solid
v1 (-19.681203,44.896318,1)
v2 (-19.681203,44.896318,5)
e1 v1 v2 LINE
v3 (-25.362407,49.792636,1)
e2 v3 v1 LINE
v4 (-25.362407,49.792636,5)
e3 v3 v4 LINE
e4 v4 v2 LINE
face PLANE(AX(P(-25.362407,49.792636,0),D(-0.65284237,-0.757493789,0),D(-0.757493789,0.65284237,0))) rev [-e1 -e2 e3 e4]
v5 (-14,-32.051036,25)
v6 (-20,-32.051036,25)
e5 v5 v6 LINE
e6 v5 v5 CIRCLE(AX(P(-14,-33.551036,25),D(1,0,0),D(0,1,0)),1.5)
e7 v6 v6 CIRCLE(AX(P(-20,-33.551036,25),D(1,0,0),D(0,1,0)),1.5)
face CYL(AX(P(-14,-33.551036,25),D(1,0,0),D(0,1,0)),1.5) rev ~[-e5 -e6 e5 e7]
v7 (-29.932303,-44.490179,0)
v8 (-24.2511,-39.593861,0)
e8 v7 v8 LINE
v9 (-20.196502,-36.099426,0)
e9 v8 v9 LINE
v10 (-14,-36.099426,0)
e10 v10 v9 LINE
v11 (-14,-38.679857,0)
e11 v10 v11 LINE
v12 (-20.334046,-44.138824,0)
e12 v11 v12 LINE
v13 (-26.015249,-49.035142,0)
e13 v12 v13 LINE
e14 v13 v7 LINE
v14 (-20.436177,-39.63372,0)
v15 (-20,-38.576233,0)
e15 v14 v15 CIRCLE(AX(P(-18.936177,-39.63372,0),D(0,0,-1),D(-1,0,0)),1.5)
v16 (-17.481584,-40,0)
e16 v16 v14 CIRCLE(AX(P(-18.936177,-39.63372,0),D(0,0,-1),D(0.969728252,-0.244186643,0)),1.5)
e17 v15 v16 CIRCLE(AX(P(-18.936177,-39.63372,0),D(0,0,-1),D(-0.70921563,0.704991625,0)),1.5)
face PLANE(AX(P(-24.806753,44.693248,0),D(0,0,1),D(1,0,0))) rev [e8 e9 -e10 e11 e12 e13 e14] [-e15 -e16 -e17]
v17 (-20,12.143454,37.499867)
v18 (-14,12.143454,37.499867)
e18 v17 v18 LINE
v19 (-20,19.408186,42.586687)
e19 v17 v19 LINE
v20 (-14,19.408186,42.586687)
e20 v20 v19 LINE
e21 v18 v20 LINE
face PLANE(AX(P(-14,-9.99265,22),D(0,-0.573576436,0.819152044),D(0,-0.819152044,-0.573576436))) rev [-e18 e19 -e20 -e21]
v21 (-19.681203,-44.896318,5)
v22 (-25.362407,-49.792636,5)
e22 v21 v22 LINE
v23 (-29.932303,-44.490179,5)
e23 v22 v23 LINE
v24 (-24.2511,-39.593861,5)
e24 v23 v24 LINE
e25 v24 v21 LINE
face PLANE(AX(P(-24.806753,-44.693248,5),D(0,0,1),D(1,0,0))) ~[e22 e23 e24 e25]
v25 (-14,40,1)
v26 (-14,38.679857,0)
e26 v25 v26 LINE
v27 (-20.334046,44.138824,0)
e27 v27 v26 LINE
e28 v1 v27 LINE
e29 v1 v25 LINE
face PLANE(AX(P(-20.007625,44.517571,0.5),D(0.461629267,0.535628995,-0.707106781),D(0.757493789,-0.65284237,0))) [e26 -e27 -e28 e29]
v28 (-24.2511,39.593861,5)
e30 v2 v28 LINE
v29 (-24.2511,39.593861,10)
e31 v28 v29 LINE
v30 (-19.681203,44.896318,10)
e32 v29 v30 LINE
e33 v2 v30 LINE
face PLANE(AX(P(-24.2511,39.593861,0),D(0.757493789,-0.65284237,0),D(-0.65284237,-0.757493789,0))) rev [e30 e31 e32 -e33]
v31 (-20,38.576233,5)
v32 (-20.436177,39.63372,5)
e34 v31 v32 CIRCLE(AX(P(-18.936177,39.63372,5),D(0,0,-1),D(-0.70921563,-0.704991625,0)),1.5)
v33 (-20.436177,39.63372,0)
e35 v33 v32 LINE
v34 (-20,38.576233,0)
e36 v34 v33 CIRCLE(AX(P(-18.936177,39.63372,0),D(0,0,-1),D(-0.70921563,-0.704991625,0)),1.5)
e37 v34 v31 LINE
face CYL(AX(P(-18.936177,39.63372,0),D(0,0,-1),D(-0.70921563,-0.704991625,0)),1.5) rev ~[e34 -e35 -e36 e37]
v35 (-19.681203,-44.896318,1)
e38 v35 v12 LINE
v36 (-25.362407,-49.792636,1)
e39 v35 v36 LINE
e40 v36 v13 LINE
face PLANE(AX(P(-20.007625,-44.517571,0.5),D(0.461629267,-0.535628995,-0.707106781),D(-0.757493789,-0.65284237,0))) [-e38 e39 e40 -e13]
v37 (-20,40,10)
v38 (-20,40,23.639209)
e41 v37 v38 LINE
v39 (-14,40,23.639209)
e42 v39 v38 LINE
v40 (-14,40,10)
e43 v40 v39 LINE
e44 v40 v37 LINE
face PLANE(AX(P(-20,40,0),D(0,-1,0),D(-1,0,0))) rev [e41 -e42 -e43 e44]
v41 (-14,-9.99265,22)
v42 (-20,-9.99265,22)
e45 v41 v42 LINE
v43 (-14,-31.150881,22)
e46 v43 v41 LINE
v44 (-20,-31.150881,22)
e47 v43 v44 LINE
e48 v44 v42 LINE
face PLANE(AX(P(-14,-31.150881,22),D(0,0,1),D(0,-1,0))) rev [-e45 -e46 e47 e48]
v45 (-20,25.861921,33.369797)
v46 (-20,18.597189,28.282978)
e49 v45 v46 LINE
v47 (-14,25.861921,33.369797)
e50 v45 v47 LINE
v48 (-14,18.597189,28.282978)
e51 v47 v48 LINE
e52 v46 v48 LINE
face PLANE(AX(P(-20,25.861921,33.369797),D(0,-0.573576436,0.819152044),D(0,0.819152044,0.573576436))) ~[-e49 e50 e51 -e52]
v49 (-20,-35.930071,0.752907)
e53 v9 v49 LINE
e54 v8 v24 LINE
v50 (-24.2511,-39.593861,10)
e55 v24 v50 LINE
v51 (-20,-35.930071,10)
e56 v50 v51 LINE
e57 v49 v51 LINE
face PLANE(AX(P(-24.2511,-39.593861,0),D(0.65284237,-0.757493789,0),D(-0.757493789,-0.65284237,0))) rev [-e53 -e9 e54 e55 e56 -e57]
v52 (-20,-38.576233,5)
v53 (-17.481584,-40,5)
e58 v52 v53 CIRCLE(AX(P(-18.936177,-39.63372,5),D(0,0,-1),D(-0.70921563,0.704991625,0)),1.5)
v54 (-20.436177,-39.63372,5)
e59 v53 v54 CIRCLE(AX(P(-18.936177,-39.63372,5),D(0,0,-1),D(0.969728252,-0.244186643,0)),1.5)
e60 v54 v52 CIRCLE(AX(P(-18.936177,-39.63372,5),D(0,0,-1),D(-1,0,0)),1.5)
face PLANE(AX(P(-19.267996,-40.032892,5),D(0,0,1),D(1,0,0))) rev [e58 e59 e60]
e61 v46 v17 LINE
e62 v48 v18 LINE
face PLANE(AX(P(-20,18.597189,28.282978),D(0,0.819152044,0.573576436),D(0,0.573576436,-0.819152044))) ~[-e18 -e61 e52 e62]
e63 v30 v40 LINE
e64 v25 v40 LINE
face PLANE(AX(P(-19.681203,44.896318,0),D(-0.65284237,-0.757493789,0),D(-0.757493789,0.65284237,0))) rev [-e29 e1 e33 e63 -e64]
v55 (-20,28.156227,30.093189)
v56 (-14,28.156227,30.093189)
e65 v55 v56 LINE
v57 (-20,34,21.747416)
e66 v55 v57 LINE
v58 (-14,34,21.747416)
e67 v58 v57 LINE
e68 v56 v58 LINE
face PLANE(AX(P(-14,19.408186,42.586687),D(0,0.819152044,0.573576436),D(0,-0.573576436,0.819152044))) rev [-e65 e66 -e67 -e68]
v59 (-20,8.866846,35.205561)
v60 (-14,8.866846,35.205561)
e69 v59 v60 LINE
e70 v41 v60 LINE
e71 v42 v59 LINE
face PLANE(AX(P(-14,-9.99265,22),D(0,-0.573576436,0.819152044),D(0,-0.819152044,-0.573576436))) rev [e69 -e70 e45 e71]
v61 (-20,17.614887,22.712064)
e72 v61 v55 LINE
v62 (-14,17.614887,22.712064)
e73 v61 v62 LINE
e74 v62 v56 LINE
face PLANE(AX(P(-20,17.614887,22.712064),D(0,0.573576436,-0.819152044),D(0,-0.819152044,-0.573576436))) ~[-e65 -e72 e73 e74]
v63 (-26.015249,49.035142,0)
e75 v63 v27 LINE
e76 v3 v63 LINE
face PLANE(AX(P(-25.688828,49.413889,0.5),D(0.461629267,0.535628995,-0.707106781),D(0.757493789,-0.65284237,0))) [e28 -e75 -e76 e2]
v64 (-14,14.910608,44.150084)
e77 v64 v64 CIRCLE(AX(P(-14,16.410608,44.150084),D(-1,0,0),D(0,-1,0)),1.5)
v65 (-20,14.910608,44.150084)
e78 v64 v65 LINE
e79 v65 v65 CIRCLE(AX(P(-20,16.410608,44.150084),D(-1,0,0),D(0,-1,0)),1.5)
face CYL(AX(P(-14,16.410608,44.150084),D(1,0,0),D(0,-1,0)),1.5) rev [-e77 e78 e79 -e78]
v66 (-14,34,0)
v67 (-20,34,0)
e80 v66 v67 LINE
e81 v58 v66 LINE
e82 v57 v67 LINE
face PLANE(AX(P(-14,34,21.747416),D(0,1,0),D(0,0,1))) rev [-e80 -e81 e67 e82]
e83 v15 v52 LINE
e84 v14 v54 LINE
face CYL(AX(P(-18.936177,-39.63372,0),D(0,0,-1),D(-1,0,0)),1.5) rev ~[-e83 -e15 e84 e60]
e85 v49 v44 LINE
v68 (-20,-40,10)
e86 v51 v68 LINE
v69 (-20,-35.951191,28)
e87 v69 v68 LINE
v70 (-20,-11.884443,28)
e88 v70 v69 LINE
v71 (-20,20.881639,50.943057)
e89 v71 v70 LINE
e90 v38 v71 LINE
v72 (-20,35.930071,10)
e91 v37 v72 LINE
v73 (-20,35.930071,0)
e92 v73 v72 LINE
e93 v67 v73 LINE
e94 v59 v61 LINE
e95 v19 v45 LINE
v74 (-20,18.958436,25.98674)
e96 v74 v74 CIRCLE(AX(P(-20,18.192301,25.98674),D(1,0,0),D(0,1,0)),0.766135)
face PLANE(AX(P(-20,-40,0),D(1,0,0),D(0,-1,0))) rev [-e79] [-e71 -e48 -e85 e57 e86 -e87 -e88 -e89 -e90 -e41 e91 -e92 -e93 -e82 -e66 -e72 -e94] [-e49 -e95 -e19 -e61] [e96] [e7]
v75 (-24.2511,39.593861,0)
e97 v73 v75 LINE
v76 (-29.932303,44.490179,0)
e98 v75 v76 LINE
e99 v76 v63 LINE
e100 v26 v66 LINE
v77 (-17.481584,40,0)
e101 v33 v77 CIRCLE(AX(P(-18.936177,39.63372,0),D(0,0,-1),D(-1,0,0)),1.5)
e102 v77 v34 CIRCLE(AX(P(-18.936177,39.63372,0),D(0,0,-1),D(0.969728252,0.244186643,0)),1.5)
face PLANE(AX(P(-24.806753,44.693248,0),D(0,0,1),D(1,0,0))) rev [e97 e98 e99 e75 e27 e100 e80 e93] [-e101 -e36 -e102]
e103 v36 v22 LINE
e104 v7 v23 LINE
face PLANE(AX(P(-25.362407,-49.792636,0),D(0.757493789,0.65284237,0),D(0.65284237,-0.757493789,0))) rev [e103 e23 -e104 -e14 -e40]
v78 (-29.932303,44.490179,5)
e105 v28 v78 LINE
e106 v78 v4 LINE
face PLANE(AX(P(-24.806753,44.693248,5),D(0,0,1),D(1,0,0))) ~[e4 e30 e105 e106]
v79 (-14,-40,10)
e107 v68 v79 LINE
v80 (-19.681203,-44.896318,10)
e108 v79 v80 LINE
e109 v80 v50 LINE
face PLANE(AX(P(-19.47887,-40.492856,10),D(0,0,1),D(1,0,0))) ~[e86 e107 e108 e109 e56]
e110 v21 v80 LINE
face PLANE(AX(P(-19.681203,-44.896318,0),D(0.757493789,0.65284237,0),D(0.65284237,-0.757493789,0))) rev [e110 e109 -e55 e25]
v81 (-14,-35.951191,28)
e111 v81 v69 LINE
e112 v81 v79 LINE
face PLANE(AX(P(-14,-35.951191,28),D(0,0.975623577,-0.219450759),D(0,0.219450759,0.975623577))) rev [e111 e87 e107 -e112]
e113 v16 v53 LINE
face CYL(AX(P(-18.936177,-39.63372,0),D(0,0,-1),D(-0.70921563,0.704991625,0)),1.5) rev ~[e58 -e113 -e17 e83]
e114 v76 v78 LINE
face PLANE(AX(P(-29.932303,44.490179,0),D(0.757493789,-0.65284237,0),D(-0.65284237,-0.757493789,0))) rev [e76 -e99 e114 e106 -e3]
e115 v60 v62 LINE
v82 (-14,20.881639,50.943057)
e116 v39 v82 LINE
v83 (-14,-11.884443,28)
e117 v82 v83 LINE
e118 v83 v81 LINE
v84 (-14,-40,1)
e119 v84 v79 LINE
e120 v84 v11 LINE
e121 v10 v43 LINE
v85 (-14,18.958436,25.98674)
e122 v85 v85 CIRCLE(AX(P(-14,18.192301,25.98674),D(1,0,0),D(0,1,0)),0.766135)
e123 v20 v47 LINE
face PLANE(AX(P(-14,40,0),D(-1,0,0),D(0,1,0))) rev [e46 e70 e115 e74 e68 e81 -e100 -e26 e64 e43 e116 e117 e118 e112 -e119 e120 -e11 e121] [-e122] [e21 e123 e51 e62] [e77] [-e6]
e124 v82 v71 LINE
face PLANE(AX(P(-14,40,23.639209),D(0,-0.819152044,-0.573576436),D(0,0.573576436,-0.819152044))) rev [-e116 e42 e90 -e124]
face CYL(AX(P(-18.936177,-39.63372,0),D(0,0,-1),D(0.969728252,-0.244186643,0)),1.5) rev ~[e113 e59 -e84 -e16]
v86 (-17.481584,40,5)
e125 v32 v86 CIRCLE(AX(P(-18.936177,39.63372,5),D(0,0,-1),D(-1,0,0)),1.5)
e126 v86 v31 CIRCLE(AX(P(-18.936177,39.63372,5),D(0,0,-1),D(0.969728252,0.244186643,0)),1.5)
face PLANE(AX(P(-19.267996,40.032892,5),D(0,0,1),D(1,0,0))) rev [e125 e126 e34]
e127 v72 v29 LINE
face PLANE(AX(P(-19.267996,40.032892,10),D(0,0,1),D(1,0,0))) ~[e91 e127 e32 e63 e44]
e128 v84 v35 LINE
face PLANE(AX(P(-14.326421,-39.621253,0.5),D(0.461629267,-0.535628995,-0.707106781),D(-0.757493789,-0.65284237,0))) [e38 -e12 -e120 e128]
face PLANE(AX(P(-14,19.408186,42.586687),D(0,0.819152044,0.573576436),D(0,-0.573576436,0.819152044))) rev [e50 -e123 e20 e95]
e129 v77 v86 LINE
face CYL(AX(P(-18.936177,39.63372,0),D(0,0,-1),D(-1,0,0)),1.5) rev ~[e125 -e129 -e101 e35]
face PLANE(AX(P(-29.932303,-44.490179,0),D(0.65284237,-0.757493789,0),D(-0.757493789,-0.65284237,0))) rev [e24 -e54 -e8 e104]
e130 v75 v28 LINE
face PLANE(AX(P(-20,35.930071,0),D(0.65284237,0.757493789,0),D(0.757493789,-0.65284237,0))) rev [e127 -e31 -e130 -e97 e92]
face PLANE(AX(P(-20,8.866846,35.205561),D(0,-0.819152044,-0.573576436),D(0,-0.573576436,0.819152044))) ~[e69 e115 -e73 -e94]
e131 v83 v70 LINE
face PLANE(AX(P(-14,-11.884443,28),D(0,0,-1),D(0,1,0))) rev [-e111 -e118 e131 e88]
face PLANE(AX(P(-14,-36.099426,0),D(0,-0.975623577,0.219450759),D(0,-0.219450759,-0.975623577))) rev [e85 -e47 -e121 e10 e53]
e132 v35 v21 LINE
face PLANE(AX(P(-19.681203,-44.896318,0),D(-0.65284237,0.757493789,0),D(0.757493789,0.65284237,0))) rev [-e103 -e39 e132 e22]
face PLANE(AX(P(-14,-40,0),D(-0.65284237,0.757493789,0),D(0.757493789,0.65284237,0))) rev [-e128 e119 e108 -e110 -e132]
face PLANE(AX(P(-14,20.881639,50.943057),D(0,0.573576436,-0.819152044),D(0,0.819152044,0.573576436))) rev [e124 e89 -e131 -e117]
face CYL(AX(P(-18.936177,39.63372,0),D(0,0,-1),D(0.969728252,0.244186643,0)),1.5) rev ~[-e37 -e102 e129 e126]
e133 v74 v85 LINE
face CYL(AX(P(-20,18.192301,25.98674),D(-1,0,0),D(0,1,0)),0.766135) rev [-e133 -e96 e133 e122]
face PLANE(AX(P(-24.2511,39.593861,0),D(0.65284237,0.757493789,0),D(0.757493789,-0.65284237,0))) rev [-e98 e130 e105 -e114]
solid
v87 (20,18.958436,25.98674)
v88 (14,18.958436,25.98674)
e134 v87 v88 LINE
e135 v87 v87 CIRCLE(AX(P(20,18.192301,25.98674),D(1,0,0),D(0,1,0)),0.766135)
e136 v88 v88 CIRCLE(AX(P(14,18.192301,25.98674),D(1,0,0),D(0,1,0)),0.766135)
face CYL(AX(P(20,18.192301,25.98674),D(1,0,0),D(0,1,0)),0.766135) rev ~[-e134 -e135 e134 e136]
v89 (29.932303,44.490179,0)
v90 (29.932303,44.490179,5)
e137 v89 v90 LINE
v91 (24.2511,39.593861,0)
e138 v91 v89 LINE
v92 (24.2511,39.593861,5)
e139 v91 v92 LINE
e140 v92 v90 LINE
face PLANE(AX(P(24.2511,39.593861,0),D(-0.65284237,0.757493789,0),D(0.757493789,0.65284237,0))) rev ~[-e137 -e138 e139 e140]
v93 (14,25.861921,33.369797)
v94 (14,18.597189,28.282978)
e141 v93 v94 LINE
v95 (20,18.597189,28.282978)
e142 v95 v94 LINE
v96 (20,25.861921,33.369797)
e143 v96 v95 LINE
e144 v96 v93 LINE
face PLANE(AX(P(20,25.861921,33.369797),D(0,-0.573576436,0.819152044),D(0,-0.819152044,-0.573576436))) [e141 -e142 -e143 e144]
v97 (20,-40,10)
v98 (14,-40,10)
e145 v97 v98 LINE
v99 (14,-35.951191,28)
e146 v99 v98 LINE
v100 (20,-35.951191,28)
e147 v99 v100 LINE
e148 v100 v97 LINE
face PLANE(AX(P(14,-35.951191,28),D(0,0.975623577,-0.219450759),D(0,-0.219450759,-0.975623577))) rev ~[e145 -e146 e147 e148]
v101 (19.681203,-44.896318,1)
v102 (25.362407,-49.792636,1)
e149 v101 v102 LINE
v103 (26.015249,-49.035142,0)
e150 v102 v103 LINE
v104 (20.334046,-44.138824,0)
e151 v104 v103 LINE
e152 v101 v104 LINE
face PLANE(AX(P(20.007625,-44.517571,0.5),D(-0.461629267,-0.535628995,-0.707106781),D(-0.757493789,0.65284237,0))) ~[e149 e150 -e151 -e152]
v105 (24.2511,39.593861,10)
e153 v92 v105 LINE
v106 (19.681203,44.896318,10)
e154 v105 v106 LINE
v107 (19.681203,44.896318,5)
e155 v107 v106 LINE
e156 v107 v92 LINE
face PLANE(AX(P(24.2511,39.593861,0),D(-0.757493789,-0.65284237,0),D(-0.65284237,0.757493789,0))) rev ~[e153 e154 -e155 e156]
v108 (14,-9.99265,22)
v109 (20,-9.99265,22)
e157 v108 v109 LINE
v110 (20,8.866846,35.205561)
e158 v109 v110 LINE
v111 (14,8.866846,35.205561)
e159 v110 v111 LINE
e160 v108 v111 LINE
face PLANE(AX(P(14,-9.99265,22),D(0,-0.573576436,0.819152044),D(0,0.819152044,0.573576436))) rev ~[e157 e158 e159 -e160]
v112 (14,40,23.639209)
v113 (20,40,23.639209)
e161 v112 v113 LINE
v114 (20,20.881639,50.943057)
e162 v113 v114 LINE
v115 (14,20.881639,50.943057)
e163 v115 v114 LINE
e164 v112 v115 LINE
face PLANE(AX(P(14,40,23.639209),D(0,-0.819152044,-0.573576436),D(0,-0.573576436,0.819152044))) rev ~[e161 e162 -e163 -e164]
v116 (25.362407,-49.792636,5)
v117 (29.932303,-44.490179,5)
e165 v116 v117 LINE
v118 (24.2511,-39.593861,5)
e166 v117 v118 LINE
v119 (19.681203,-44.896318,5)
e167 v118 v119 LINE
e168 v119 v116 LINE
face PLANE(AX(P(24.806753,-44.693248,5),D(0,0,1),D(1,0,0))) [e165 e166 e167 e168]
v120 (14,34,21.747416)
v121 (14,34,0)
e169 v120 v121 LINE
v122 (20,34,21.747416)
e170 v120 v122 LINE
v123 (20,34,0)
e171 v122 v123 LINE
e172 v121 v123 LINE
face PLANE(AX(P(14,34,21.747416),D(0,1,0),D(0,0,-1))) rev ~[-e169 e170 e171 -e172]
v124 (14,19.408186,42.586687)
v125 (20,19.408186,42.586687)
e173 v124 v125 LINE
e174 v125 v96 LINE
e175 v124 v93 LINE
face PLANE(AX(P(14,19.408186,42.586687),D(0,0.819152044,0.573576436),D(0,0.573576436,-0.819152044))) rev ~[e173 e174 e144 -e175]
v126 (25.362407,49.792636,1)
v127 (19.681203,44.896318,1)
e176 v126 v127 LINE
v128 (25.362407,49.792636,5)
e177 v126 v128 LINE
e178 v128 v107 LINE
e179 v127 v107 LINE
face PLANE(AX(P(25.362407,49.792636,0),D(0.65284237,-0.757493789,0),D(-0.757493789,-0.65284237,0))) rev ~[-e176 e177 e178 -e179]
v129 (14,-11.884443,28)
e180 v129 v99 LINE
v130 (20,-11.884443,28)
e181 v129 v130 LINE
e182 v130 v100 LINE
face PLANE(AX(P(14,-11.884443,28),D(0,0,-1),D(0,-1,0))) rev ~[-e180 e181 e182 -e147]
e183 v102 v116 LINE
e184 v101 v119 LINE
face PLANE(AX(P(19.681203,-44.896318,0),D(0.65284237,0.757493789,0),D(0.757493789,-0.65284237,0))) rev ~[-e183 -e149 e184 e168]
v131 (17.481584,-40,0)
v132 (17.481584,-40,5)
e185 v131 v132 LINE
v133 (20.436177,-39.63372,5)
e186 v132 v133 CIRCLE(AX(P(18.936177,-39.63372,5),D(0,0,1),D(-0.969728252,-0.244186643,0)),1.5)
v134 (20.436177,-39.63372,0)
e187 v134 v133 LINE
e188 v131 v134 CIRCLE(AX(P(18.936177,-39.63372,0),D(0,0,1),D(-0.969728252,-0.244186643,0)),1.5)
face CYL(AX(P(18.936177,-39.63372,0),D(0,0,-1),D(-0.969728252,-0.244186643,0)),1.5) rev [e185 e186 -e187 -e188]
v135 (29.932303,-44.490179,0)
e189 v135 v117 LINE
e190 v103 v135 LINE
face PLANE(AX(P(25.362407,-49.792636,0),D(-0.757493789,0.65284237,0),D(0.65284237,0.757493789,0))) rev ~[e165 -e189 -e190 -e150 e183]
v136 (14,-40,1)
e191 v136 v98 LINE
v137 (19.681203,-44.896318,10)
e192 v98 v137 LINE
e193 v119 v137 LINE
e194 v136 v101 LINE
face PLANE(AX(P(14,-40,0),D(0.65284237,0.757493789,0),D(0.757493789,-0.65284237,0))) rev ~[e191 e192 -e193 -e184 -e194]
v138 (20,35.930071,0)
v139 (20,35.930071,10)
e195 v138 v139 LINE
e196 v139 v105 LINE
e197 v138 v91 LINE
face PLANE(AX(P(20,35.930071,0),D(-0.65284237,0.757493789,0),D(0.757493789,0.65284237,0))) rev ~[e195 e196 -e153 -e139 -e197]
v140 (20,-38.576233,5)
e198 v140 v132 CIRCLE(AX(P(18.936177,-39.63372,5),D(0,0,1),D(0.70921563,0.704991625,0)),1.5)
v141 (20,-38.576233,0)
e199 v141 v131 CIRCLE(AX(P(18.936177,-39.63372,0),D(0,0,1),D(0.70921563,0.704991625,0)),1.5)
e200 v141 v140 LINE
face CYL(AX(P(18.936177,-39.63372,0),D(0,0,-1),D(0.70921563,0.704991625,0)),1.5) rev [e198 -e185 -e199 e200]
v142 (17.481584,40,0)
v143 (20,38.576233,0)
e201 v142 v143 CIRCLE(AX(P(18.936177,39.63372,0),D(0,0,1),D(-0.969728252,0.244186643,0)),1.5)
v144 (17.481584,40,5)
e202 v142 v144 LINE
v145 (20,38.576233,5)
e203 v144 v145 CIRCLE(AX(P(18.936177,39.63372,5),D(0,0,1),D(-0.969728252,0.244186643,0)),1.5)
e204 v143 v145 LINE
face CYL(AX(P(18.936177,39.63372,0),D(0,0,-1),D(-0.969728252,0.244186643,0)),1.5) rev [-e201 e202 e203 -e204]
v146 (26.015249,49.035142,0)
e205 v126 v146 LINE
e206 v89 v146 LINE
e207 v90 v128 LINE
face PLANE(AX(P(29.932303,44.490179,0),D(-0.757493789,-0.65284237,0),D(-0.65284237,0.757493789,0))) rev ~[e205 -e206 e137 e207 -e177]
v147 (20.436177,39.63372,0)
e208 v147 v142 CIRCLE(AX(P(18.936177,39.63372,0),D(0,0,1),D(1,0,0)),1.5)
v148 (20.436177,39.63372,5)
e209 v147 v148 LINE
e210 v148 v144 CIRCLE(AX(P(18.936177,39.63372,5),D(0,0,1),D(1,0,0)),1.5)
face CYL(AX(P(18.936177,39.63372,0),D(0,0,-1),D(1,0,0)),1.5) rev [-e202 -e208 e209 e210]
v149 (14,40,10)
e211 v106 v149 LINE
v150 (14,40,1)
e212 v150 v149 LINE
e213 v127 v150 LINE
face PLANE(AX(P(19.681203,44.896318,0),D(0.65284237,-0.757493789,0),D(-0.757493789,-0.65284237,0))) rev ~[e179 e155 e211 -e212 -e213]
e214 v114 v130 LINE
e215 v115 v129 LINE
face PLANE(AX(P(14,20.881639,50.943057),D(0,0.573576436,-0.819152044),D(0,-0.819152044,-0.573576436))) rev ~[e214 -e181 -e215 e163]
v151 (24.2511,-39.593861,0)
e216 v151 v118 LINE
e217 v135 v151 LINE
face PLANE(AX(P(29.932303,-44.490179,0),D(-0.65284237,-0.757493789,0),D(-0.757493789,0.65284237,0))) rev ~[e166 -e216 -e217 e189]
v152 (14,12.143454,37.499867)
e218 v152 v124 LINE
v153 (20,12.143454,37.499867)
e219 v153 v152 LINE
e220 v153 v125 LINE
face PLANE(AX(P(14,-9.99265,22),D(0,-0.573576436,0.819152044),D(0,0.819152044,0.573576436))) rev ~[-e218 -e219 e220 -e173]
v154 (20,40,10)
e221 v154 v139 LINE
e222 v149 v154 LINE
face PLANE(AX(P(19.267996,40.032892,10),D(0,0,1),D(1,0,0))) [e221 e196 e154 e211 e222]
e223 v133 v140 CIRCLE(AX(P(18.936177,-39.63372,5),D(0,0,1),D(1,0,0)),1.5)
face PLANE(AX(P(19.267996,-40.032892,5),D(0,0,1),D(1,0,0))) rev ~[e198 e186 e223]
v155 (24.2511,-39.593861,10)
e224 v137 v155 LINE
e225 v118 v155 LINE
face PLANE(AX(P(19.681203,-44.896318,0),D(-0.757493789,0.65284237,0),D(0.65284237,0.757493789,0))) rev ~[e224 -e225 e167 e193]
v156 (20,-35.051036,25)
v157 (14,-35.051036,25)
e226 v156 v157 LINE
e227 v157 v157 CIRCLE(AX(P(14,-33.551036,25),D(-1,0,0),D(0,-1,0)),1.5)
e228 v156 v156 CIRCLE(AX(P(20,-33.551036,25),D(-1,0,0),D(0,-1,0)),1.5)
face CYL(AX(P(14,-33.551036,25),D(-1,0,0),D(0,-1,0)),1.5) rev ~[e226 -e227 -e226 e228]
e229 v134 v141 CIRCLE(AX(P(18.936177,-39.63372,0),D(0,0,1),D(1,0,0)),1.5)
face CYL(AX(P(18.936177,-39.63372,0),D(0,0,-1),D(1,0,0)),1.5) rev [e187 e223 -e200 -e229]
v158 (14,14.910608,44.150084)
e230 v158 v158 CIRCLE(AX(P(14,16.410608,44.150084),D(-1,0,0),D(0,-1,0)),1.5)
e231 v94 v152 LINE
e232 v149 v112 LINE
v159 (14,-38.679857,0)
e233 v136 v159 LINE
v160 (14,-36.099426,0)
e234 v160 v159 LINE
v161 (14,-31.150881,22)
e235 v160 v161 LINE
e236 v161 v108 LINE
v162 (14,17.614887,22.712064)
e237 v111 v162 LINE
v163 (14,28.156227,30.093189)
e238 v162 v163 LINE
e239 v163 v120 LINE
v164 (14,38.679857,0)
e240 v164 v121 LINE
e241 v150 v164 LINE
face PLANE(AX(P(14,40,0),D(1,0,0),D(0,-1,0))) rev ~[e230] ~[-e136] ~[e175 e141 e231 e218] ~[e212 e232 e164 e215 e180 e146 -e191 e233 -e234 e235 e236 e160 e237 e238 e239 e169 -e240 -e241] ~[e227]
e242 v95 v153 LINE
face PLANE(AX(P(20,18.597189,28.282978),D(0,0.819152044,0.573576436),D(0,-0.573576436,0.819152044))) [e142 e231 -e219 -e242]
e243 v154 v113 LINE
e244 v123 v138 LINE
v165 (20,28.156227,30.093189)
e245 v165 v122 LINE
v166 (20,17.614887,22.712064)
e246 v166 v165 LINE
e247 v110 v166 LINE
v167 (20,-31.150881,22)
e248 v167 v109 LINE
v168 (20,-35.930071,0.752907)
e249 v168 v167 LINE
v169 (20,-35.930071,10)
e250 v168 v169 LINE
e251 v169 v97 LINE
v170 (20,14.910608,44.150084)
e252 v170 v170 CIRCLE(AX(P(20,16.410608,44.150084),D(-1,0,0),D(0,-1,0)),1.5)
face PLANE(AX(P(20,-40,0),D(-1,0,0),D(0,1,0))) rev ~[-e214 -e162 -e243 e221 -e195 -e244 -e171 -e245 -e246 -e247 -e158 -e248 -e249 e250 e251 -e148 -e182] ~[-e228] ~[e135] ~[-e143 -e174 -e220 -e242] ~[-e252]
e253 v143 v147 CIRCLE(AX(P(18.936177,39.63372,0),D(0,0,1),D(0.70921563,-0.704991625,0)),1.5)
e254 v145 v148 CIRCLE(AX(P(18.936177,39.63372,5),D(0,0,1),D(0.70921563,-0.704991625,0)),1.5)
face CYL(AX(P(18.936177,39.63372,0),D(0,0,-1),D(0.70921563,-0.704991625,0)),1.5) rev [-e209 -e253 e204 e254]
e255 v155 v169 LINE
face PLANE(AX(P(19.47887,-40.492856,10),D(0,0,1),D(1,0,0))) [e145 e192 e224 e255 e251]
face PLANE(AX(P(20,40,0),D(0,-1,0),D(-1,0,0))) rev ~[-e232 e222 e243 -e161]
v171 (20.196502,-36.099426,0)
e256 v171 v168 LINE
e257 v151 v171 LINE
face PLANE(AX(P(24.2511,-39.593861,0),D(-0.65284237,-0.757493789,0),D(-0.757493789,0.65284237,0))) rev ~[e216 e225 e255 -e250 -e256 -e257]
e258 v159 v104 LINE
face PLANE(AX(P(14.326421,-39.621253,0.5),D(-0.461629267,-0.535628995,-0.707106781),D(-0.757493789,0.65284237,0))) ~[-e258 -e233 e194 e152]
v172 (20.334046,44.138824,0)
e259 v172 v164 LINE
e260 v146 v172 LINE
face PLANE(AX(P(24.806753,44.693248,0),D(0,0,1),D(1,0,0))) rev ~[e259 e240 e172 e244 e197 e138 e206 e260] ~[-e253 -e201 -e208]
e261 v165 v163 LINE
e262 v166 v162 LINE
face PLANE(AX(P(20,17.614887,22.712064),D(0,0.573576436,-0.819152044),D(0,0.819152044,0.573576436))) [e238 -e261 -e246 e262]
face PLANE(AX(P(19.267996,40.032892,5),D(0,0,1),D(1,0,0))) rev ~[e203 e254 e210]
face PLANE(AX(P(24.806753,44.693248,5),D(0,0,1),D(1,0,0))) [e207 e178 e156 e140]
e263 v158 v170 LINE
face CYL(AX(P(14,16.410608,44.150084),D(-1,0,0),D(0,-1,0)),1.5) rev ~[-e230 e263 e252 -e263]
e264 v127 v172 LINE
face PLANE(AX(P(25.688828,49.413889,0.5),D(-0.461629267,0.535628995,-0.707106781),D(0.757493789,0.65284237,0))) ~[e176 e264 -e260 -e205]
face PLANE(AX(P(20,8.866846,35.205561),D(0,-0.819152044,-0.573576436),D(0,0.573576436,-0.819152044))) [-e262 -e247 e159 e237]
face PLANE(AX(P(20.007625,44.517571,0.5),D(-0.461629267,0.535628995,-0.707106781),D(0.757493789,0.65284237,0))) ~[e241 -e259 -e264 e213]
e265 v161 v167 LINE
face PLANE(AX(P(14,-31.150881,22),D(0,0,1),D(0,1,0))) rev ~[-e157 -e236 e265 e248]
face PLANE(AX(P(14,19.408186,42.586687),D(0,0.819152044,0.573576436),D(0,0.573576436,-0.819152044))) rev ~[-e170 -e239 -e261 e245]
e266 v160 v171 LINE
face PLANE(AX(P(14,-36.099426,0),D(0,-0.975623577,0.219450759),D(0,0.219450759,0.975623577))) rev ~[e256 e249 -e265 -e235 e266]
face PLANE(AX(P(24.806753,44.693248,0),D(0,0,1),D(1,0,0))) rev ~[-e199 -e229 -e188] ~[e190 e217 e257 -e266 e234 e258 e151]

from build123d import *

# Parameters (mm, degrees)
F1_DEPTH   = 70
F2_DEPTH   = 10
F3_DEPTH   = 5
F5_DEPTH   = 25
F6_DEPTH   = 5
F8_R       = 0.7661349595
F9_DEPTH   = 6
F7_R       = 1.5
F10_DEPTH  = 7
F13_DEPTH  = 6
F14_R      = 1.5
F15_DEPTH  = 12
F16_SIZE   = 1
F16_2_SIZE = 1


with BuildPart() as f1:
    # F0 (on Top) → F1 (new body)
    with BuildSketch(Plane.XY):
        with BuildLine():
            Line((17.481584177, 40), (14, 40))
            Line((14, 40), (18.5698965916, 34.6975434805))
            Line((18.5698965916, 34.6975434805), (20, 35.9300712093))
            Line((20, 35.9300712093), (20, 38.5762325992))
            ThreePointArc((20, 38.5762325992), (18.1979669018, 38.327945742), (17.481584177, 40))
        make_face()
        with BuildLine():
            Line((20, 40), (17.481584177, 40))
            ThreePointArc((17.481584177, 40), (18.1979669018, 38.327945742), (20, 38.5762325992))
            Line((20, 38.5762325992), (20, 40))
        make_face()
        Polygon((18.5698965916, 34.6975434805), (14, 40), (14, 0), (14, -40), (18.5698965916, -34.6975434805), (20, -35.9300712093), (20, 0), (20, 35.9300712093), align=None)
        with BuildLine():
            Line((18.5698965916, -34.6975434805), (14, -40))
            Line((14, -40), (17.481584177, -40))
            ThreePointArc((17.481584177, -40), (18.1979669018, -38.327945742), (20, -38.5762325992))
            Line((20, -38.5762325992), (20, -35.9300712093))
            Line((20, -35.9300712093), (18.5698965916, -34.6975434805))
        make_face()
        with BuildLine():
            ThreePointArc((20, -38.5762325992), (18.1979669018, -38.327945742), (17.481584177, -40))
            Line((17.481584177, -40), (20, -40))
            Line((20, -40), (20, -38.5762325992))
        make_face()
    extrude(amount=F1_DEPTH)

    # F0 (on Top) → F2 (join)
    with BuildSketch(Plane.XY):
        with BuildLine():
            ThreePointArc((20.4361765556, 39.633720036), (19.1207184642, 41.1223248473), (17.481584177, 40))
            Line((17.481584177, 40), (20, 40))
            Line((20, 40), (20, 38.5762325992))
            ThreePointArc((20, 38.5762325992), (20.3228515656, 39.0617651281), (20.4361765556, 39.633720036))
        make_face()
        with BuildLine():
            Line((19.6812034138, 44.8963177768), (14, 40))
            Line((14, 40), (17.481584177, 40))
            ThreePointArc((17.481584177, 40), (19.1207184642, 41.1223248473), (20.4361765556, 39.633720036))
            ThreePointArc((20.4361765556, 39.633720036), (20.3228515656, 39.0617651281), (20, 38.5762325992))
            Line((20, 38.5762325992), (20, 35.9300712093))
            Line((20, 35.9300712093), (24.2511000054, 39.5938612572))
            Line((24.2511000054, 39.5938612572), (19.6812034138, 44.8963177768))
        make_face()
        with BuildLine():
            Line((17.481584177, -40), (14, -40))
            Line((14, -40), (19.6812034138, -44.8963177768))
            Line((19.6812034138, -44.8963177768), (24.2511000054, -39.5938612572))
            Line((24.2511000054, -39.5938612572), (20, -35.9300712093))
            Line((20, -35.9300712093), (20, -38.5762325992))
            ThreePointArc((20, -38.5762325992), (20.3228515656, -39.0617651281), (20.4361765556, -39.633720036))
            ThreePointArc((20.4361765556, -39.633720036), (19.1207184642, -41.1223248473), (17.481584177, -40))
        make_face()
        with BuildLine():
            Line((20, -40), (17.481584177, -40))
            ThreePointArc((17.481584177, -40), (19.1207184642, -41.1223248473), (20.4361765556, -39.633720036))
            ThreePointArc((20.4361765556, -39.633720036), (20.3228515656, -39.0617651281), (20, -38.5762325992))
            Line((20, -38.5762325992), (20, -40))
        make_face()
    extrude(amount=F2_DEPTH)

    # F0 (on Top) → F3 (join)
    with BuildSketch(Plane.XY):
        Polygon((25.3624068276, 49.7926355535), (19.6812034138, 44.8963177768), (24.2511000054, 39.5938612572), (29.9323034192, 44.490179034), align=None)
        Polygon((24.2511000054, -39.5938612572), (19.6812034138, -44.8963177768), (25.3624068276, -49.7926355535), (29.9323034192, -44.490179034), align=None)
    extrude(amount=F3_DEPTH)

    # F4 (on face) → F5 (cut)
    with BuildSketch(Plane(origin=(14, 0, 0), x_dir=(0, -1, 0), z_dir=(-1, 0, 0))):
        Polygon((-34, 0), (36.0994255375, 0), (31.1508810268, 22), (9.992649815, 22), (-19.4081855757, 42.5866865702), (-34, 21.7474158853), align=None)
        Polygon((-20.8816392233, 50.943057454), (11.8844425483, 28), (35.9511908549, 28), (40, 10), (40, 70), (-40, 70), (-40, 23.6392086186), align=None)
    extrude(amount=-F5_DEPTH, mode=Mode.SUBTRACT)

    # F0 (on Top) → F6 (cut)
    with BuildSketch(Plane.XY):
        with BuildLine():
            Line((20, -40), (17.481584177, -40))
            ThreePointArc((17.481584177, -40), (19.1207184642, -41.1223248473), (20.4361765556, -39.633720036))
            ThreePointArc((20.4361765556, -39.633720036), (20.3228515656, -39.0617651281), (20, -38.5762325992))
            Line((20, -38.5762325992), (20, -40))
        make_face()
        with BuildLine():
            ThreePointArc((20, -38.5762325992), (18.1979669018, -38.327945742), (17.481584177, -40))
            Line((17.481584177, -40), (20, -40))
            Line((20, -40), (20, -38.5762325992))
        make_face()
        with BuildLine():
            ThreePointArc((20.4361765556, 39.633720036), (19.1207184642, 41.1223248473), (17.481584177, 40))
            Line((17.481584177, 40), (20, 40))
            Line((20, 40), (20, 38.5762325992))
            ThreePointArc((20, 38.5762325992), (20.3228515656, 39.0617651281), (20.4361765556, 39.633720036))
        make_face()
        with BuildLine():
            Line((20, 40), (17.481584177, 40))
            ThreePointArc((17.481584177, 40), (18.1979669018, 38.327945742), (20, 38.5762325992))
            Line((20, 38.5762325992), (20, 40))
        make_face()
    extrude(amount=F6_DEPTH, mode=Mode.SUBTRACT)

    # F7 (on face) → F10 (cut)
    with BuildSketch(Plane(origin=(14, 0, 0), x_dir=(0, -1, 0), z_dir=(-1, 0, 0))):
        with Locations((-16.4106077752, 44.1500837642)):
            Circle(F7_R)
    extrude(amount=-F10_DEPTH, mode=Mode.SUBTRACT)


with BuildPart() as f9:
    # F8 (on face) → F9 (new body)
    with BuildSketch(Plane.YZ.offset(20)):
        Polygon((12.143454066, 37.499866804), (8.8668458888, 35.2055610586), (17.6148869053, 22.7120637181), (28.1562265921, 30.0931892296), (25.8619208467, 33.3697974068), (18.597189337, 28.2829776406), align=None)
        with Locations((18.1923007229, 25.9867402042)):
            Circle(F8_R, mode=Mode.SUBTRACT)
    extrude(amount=-F9_DEPTH)

    # F11: union F1
    add(f1.part)


with BuildPart() as f12_1:
    # F12: instance of F9
    add(f9.part.mirror(Plane.YZ))

    # F14 (on face) → F15 (cut)
    with BuildSketch(Plane.YZ.offset(-14)):
        with Locations((-33.5510359408, 25)):
            Circle(F14_R)
    extrude(amount=-F15_DEPTH, mode=Mode.SUBTRACT)

    # F16
    f16_edges = [f12_1.edges().sort_by_distance(p)[0] for p in [
        (-19.681203, -44.896318, 0),
        (-19.681203, 44.896318, 0),
    ]]
    chamfer(f16_edges, length=F16_SIZE)


with BuildPart() as f9_1:
    add(f9.part)

    # F7 (on face) → F13 (cut, symmetric)
    with BuildSketch(Plane(origin=(14, 0, 0), x_dir=(0, -1, 0), z_dir=(-1, 0, 0))):
        with Locations((33.5510359408, 25)):
            Circle(F7_R)
    extrude(amount=F13_DEPTH, both=True, mode=Mode.SUBTRACT)

    # F16#2
    f16_2_edges = [f9_1.edges().sort_by_distance(p)[0] for p in [
        (19.681203, -44.896318, 0),
        (19.681203, 44.896318, 0),
    ]]
    chamfer(f16_2_edges, length=F16_2_SIZE)


solid = Compound([f12_1.part, f9_1.part])
